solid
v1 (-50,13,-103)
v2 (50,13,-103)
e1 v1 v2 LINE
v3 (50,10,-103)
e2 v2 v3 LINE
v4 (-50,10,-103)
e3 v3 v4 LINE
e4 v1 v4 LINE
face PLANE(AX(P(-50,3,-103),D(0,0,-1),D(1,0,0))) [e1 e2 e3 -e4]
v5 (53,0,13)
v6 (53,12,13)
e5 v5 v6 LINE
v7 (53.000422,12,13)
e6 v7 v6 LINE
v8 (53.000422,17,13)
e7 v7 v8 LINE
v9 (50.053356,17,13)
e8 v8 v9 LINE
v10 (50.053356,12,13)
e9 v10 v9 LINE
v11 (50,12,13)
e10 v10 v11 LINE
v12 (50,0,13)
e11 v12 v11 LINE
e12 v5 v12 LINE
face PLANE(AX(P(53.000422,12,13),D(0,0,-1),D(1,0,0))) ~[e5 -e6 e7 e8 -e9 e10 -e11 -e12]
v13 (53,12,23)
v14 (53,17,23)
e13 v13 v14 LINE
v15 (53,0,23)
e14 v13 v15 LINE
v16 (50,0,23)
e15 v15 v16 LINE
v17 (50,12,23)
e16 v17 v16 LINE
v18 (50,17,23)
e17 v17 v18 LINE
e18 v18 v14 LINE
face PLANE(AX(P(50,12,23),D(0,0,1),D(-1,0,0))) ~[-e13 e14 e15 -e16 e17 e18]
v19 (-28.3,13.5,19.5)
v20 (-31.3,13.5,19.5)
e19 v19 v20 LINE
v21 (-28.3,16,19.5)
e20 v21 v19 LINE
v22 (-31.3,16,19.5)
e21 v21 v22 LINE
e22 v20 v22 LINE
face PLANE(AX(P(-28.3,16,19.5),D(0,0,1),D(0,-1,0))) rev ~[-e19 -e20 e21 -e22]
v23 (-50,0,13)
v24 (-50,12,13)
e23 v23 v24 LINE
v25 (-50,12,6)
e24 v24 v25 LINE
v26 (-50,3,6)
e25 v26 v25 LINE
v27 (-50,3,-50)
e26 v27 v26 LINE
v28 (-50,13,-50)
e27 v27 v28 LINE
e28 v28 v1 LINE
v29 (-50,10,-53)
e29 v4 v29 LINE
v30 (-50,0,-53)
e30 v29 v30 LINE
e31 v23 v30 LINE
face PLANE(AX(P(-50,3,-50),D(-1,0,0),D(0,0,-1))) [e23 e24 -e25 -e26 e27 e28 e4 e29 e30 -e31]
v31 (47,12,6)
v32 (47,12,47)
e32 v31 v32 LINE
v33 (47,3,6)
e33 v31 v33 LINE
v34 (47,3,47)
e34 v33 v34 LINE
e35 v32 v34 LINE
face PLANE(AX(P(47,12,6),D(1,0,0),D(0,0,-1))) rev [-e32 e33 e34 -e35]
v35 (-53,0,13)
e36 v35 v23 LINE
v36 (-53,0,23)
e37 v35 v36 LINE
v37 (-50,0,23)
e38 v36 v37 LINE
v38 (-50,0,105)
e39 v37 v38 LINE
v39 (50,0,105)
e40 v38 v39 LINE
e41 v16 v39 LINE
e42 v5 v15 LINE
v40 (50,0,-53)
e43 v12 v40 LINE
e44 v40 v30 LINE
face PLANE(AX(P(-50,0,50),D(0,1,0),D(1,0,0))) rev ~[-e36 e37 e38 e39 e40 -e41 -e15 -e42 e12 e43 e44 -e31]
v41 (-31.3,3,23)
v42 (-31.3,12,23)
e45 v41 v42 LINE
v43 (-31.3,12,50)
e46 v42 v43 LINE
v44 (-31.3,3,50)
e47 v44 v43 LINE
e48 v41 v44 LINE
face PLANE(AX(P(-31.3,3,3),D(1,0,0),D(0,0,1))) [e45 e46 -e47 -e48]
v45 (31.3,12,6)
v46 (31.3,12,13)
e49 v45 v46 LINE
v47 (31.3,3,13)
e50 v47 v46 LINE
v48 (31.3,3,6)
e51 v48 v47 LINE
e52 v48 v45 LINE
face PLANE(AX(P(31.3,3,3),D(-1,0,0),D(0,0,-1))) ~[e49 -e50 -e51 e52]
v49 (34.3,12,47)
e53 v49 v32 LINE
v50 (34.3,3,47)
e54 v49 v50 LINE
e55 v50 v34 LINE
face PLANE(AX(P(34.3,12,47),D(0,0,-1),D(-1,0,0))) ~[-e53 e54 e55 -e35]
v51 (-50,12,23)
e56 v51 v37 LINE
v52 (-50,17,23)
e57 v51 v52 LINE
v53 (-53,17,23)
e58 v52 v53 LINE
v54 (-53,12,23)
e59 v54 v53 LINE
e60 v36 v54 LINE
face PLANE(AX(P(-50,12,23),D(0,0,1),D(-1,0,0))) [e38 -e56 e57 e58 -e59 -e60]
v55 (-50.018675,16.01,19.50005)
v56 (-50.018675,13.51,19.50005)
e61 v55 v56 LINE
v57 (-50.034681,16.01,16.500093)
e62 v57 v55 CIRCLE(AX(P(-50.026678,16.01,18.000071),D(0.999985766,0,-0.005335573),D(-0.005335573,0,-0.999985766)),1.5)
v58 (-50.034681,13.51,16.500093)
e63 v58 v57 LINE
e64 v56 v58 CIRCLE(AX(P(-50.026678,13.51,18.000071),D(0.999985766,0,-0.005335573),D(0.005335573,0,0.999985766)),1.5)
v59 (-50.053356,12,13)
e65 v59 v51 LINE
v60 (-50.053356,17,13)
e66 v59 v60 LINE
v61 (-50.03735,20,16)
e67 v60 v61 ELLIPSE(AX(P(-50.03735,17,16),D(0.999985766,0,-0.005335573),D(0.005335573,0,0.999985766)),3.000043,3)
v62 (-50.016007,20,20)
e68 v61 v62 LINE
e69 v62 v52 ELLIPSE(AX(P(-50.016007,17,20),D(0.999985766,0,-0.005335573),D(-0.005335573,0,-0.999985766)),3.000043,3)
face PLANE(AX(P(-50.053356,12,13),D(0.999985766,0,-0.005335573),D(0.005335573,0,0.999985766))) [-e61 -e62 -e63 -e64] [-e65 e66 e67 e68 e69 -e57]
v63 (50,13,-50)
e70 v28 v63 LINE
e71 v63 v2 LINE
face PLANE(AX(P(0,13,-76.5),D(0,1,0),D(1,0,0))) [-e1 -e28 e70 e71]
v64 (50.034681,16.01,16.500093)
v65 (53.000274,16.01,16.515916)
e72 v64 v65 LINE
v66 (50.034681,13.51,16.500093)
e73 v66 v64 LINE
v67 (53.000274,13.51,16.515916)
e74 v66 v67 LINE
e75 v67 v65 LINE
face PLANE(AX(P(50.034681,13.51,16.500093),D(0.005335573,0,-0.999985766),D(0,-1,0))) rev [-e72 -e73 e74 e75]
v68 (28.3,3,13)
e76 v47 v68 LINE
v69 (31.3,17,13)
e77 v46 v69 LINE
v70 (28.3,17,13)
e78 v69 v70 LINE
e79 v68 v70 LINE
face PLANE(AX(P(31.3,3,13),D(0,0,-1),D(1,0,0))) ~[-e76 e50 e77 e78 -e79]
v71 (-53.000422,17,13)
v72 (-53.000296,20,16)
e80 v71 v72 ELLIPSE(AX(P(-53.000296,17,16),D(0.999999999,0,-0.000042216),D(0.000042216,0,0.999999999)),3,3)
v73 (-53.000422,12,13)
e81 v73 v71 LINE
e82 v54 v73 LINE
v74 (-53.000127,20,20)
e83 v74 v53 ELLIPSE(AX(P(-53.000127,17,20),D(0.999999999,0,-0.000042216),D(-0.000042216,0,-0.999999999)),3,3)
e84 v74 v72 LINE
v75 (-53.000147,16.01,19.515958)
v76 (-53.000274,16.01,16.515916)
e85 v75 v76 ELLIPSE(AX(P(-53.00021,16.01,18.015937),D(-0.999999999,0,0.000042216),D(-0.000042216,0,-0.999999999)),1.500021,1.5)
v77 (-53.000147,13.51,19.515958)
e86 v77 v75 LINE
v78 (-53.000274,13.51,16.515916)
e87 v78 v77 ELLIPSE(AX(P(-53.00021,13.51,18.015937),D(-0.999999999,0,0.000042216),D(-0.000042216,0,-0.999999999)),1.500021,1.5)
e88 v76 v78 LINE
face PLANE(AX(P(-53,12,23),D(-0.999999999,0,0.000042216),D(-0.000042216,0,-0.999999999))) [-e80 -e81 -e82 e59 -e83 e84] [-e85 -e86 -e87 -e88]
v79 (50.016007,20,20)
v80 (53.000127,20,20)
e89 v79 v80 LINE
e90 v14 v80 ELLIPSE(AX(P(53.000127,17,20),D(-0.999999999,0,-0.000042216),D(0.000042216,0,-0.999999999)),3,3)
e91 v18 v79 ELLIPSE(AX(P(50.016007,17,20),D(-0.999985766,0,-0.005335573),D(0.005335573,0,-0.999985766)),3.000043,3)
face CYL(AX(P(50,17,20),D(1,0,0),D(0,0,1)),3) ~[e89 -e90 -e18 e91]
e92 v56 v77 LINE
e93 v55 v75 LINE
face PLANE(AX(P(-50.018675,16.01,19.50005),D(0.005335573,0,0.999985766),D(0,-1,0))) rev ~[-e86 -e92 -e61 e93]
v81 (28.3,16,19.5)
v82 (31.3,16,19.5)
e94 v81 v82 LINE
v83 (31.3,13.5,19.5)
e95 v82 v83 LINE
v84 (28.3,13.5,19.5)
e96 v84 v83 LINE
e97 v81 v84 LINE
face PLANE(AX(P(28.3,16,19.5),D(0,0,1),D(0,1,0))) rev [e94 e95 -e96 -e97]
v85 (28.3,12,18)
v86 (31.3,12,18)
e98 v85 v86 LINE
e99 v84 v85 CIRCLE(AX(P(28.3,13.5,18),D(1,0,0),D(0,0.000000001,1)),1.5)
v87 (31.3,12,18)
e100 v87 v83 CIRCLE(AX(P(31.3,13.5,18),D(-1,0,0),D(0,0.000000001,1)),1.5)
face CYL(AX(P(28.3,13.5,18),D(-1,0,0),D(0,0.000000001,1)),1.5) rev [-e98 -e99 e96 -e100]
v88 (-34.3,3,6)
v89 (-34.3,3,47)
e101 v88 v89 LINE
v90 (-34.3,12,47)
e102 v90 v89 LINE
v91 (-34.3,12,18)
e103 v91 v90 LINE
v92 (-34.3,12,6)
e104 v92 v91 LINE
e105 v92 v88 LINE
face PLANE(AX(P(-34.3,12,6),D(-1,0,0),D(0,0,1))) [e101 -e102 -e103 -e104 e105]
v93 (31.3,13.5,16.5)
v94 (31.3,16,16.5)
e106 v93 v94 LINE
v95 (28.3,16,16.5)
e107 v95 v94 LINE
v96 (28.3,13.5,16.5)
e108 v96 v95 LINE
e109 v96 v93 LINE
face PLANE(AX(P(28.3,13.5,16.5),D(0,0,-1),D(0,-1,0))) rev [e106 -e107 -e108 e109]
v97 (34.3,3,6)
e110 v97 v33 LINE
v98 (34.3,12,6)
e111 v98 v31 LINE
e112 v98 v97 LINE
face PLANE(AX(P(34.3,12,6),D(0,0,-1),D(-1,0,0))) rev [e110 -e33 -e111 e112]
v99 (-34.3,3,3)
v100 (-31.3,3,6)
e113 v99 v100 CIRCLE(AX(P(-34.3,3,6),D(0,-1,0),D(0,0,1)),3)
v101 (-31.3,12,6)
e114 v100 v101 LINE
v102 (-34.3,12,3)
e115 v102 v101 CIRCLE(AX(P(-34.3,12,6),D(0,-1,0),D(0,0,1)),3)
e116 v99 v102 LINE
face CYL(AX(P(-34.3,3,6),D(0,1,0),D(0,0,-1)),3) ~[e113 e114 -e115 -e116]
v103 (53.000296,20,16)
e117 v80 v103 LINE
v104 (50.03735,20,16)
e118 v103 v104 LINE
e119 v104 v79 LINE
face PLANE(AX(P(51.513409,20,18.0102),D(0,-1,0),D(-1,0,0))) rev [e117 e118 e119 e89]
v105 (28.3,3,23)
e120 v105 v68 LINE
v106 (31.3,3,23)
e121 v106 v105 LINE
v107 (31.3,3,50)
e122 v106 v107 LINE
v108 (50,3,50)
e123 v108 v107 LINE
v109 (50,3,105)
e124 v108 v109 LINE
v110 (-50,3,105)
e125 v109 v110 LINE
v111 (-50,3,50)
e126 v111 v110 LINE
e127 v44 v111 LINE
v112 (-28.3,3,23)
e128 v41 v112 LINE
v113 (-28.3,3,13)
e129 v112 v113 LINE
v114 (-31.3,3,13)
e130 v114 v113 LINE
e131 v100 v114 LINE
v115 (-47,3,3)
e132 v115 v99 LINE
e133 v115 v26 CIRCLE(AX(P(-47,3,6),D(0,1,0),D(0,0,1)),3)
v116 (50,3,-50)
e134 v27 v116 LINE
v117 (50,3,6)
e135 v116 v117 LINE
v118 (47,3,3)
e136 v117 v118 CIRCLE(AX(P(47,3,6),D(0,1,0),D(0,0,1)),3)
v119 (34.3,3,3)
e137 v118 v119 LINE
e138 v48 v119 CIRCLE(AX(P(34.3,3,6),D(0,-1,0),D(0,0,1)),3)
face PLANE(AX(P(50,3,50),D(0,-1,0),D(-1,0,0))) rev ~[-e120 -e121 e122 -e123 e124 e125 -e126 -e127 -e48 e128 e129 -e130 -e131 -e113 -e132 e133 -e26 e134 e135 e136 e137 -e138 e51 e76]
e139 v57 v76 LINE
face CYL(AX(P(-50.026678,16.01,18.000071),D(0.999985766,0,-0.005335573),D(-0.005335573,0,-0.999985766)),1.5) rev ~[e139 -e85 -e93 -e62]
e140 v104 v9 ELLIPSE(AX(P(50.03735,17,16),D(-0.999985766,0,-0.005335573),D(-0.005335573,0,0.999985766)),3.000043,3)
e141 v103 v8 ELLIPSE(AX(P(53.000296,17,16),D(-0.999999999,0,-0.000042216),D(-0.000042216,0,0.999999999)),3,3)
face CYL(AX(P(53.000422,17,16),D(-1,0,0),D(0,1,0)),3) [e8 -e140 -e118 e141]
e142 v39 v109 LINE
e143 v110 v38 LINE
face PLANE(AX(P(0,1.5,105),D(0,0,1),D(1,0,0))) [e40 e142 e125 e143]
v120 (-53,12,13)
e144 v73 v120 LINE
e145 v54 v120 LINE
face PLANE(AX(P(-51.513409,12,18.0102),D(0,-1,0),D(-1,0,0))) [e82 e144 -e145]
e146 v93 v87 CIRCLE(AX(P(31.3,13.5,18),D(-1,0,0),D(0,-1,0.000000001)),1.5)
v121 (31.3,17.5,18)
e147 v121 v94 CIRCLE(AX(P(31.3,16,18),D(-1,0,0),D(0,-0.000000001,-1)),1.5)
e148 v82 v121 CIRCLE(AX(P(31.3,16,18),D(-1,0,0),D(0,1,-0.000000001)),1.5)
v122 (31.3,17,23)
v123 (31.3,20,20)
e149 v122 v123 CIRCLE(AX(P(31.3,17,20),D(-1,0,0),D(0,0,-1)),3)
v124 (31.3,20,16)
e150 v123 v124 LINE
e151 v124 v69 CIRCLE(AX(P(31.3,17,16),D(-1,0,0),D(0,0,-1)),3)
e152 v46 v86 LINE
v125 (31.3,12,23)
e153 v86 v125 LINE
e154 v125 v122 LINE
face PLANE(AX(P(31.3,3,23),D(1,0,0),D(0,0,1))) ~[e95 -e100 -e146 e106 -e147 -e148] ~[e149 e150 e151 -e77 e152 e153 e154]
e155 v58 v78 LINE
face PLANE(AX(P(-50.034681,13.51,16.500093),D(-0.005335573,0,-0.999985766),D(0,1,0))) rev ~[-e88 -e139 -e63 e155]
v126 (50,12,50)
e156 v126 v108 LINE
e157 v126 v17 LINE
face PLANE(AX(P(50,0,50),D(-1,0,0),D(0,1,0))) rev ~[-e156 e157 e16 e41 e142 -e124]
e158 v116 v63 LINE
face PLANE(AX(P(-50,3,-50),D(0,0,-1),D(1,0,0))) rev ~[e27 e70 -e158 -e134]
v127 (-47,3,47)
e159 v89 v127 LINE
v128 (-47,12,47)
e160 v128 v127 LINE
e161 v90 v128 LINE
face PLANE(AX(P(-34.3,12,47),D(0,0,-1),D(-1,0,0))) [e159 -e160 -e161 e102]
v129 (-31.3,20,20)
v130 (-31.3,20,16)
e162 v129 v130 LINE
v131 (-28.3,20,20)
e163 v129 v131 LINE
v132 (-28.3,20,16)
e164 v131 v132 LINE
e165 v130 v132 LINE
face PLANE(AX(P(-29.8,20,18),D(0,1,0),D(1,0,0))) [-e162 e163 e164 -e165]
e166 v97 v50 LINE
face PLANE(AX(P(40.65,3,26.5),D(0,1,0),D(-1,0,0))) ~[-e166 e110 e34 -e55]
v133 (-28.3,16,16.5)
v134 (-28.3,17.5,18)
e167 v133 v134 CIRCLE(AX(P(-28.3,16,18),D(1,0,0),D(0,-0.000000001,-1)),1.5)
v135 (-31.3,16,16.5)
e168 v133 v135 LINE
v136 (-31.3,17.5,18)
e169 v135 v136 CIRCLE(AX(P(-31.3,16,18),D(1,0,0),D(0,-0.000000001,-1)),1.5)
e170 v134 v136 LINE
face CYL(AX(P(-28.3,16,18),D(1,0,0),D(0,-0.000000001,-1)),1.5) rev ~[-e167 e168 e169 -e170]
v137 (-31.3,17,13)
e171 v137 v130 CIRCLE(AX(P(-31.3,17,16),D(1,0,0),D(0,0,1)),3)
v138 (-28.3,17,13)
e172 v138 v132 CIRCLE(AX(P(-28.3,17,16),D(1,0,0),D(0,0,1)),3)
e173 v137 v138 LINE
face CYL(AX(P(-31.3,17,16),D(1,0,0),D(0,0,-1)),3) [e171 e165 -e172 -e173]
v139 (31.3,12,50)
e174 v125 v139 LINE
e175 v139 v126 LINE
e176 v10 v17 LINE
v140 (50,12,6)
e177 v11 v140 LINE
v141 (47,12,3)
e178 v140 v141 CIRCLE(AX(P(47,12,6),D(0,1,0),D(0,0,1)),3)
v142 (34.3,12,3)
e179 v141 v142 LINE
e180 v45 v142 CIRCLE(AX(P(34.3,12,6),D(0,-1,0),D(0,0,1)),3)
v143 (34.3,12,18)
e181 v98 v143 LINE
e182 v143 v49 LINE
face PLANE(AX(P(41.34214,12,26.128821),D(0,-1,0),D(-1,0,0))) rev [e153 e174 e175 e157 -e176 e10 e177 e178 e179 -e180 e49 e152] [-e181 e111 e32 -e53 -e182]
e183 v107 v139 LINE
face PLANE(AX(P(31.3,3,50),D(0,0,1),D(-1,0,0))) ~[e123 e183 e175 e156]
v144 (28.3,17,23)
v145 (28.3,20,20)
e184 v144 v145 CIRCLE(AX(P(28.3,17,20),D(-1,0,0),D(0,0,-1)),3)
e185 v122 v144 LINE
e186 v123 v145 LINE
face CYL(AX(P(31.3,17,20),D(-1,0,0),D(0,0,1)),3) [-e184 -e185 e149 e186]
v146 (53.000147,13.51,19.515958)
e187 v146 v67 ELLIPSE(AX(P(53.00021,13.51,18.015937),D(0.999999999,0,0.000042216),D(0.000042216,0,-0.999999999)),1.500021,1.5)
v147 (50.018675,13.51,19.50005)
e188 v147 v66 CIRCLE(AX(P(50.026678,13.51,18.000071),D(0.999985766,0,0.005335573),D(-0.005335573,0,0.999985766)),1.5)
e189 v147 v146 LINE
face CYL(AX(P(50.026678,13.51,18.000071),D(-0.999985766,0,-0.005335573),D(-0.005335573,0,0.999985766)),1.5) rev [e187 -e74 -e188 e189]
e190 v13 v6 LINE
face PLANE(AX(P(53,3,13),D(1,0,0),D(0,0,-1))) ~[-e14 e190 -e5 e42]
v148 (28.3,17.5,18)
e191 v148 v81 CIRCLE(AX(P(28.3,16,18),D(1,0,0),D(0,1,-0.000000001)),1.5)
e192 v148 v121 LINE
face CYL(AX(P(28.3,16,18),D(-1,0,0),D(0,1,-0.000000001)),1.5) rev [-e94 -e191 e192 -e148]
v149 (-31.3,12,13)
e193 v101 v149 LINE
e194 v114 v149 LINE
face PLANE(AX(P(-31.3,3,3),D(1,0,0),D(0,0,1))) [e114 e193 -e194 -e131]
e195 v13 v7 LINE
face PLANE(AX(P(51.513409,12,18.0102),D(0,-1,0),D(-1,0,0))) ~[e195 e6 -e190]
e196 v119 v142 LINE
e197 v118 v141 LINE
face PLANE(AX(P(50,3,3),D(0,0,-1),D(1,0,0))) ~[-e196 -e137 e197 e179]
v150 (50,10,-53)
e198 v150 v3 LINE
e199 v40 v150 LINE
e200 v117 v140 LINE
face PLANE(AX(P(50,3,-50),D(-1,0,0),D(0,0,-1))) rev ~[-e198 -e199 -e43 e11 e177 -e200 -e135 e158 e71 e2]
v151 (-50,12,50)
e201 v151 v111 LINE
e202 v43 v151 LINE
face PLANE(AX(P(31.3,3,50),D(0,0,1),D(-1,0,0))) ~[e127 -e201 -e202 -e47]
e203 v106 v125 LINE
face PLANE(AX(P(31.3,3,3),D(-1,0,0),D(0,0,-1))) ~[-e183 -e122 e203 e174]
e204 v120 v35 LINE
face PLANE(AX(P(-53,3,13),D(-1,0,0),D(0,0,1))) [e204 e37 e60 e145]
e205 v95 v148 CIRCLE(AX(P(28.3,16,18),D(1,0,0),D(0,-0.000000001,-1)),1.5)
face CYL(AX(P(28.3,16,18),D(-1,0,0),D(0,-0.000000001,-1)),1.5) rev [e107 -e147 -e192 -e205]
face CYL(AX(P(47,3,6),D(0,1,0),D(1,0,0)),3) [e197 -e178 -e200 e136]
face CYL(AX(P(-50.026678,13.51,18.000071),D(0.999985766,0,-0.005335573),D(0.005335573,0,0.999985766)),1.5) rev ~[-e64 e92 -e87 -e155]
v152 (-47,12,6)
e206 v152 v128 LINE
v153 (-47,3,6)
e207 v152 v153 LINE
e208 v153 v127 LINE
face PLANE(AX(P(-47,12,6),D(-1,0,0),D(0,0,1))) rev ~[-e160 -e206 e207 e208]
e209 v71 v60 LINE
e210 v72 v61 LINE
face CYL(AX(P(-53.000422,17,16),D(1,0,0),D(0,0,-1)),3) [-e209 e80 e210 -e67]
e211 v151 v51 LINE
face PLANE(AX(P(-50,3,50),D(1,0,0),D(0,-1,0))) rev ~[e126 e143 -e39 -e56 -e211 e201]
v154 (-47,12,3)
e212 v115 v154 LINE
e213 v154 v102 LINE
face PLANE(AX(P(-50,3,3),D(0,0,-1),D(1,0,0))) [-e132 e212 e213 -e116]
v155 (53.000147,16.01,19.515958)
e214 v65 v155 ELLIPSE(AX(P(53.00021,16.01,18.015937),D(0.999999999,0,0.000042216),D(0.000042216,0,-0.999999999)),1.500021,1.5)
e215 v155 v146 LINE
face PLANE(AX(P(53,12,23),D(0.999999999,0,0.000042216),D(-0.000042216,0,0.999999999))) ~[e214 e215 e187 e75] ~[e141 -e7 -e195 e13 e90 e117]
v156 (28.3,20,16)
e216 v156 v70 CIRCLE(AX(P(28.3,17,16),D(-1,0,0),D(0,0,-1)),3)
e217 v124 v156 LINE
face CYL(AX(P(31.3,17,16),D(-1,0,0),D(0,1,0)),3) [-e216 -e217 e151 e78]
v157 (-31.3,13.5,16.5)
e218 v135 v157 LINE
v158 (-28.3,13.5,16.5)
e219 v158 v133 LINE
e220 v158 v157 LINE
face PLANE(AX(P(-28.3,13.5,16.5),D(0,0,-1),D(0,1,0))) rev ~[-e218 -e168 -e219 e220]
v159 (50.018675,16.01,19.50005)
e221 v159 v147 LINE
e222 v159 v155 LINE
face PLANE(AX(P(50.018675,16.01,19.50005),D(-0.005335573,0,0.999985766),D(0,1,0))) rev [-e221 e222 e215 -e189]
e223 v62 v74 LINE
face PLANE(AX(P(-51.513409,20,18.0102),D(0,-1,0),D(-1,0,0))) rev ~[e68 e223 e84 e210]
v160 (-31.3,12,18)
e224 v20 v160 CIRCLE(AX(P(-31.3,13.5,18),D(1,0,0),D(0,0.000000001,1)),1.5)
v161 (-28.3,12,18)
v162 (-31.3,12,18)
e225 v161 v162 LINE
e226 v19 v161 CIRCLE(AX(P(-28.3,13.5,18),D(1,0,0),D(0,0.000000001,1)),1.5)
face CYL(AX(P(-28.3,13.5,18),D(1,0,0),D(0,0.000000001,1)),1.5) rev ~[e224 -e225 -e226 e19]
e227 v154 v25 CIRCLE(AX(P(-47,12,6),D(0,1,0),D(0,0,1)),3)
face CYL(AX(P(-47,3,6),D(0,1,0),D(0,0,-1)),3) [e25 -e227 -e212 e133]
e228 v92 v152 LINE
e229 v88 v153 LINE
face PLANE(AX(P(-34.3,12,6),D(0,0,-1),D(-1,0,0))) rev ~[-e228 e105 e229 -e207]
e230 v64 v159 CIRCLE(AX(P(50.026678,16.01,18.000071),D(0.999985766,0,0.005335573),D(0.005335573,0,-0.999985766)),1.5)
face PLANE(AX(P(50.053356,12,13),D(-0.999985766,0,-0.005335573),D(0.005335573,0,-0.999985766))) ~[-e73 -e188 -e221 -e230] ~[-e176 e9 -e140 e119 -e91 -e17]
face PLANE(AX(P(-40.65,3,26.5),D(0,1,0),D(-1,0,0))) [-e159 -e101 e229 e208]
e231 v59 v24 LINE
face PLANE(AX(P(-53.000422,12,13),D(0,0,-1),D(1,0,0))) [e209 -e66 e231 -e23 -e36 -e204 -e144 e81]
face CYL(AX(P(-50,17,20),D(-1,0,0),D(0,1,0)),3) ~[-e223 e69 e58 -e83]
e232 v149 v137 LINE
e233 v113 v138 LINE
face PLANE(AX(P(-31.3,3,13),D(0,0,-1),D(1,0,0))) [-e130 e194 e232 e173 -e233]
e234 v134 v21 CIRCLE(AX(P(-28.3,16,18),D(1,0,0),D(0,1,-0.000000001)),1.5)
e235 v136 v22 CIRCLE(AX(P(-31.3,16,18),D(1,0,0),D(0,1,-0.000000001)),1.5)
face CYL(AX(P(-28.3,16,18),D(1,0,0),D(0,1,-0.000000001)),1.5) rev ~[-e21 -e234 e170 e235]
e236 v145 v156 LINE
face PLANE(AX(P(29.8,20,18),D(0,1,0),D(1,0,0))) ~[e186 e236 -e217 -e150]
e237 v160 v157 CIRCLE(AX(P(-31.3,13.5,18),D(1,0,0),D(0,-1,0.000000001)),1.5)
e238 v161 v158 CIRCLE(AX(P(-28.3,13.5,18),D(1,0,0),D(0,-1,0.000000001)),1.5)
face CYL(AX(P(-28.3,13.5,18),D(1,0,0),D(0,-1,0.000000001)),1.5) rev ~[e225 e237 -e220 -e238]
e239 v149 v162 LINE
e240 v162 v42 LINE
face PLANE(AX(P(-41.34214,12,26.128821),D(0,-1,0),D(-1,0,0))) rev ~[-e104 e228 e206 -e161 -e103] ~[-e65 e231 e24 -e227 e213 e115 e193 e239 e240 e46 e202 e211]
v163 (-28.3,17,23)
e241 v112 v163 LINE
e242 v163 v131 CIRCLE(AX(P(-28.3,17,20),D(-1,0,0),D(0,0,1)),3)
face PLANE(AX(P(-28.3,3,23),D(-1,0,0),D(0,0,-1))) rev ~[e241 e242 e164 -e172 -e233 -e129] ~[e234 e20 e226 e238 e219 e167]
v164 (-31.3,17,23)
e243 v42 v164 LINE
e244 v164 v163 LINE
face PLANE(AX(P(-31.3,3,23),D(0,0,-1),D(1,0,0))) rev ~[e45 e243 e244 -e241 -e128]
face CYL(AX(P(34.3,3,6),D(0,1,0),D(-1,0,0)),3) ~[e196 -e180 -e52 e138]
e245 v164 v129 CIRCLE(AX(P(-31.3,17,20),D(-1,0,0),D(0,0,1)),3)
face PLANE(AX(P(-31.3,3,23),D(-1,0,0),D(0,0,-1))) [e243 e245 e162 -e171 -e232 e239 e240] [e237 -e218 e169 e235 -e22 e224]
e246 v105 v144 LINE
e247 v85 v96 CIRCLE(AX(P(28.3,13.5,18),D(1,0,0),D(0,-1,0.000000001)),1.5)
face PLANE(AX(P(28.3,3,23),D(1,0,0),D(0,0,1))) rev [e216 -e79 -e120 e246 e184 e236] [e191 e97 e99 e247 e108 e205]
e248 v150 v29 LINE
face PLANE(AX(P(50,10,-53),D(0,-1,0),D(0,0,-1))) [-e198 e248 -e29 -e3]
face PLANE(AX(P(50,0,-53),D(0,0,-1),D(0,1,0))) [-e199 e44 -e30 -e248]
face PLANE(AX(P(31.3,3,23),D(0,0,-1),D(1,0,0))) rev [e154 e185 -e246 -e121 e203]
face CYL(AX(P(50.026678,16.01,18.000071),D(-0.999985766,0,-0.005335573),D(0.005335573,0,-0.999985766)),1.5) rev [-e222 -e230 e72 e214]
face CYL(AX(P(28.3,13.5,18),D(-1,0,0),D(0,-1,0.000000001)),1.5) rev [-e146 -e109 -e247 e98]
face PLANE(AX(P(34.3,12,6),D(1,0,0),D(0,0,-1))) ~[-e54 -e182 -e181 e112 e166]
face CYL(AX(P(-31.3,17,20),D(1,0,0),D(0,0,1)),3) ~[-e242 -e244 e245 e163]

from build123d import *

# Parameters (mm, degrees)
ESBO_O1_W                = 100
ESBO_O1_H                = 100
EXTRUS_O1_DEPTH          = 3
EXTRUS_O2_DEPTH          = 9
ESBO_O3_W                = 12.7
ESBO_O3_H                = 41
EXTRUS_O3_DEPTH          = 9
FILETE2_R                = 3
ESBO_O6_W                = 3
ESBO_O6_H                = 10
EXTRUS_O4_DEPTH          = 3
ESBO_O7_W                = 3
ESBO_O7_H                = 10
EXTRUS_O5_DEPTH          = 17
EXTRUS_O6_DEPTH          = 8
FILETE3_R                = 3
FILETE2_OF_ESPELHAR4_R   = 3
FILETE3_OF_ESPELHAR4_R   = 3
EXTRUS_O17_DEPTH         = 10
EXTRUS_O30_DEPTH         = 10
ESBO_O22_W               = 100
ESBO_O22_H               = 3
EXTRUS_O33_DEPTH         = 53
ESBO_O23_W               = 100
ESBO_O23_H               = 53
EXTRUS_O35_DEPTH         = 10
ESBO_O24_W               = 50
ESBO_O24_H               = 10
EXTRUS_O36_DEPTH         = 148.030904796
RESSALTO_EXTRUS_O1_DEPTH = 55


with BuildPart() as part:
    # Esboço1 → Extrusão1 (new body)
    with BuildSketch(Plane(origin=(0, 0, 0), x_dir=(1, 0, 0), z_dir=(0, 1, 0))):
        Rectangle(ESBO_O1_W, ESBO_O1_H)
    extrus_o1 = extrude(amount=EXTRUS_O1_DEPTH)

    # Esboço2 → Extrusão2 (add)
    with BuildSketch(Plane(origin=(0, 3, 0), x_dir=(1, 0, 0), z_dir=(0, 1, 0))):
        Polygon((-50, -3), (-31.3, -3), (-31.3, -50), (-50, -50), (-50, -23), (-53, -23), (-53, -13), (-50, -13), align=None)
    extrus_o2 = extrude(amount=EXTRUS_O2_DEPTH)

    # Esboço3 → Extrusão3 (cut)
    with BuildSketch(Plane(origin=(0, 12, 0), x_dir=(-1, 0, 0), z_dir=(0, 1, 0))):
        with Locations((40.65, 26.5)):
            Rectangle(ESBO_O3_W, ESBO_O3_H)
    extrus_o3 = extrude(amount=-EXTRUS_O3_DEPTH, mode=Mode.SUBTRACT)

    # Filete2
    filete2_edges = [part.edges().sort_by_distance(p)[0] for p in [
        (-50, 7.5, 3),
        (-31.3, 7.5, 3),
    ]]
    fillet(filete2_edges, radius=FILETE2_R)

    # Esboço6 → Extrusão4 (add)
    with BuildSketch(Plane.XZ.offset(-3)):
        with Locations((-51.5, 18)):
            Rectangle(ESBO_O6_W, ESBO_O6_H)
    extrus_o4 = extrude(amount=EXTRUS_O4_DEPTH)

    # Esboço7 → Extrusão5 (add)
    with BuildSketch(Plane(origin=(0, 3, 0), x_dir=(1, 0, 0), z_dir=(0, 1, 0))):
        with Locations((-29.8, -18)):
            Rectangle(ESBO_O7_W, ESBO_O7_H)
    extrus_o5 = extrude(amount=EXTRUS_O5_DEPTH)

    # Esboço8 → Extrusão6 (add)
    with BuildSketch(Plane(origin=(0, 12, 0), x_dir=(1, 0, 0), z_dir=(0, 1, 0))):
        Polygon((-53.00042216, -13), (-50.053356487, -13), (-50, -23), (-53, -23), align=None)
    extrus_o6 = extrude(amount=EXTRUS_O6_DEPTH)

    # Filete3
    filete3_edges = [part.edges().sort_by_distance(p)[0] for p in [
        (-51.5, 20, 23),
        (-51.526889323, 20, 13),
        (-29.8, 20, 23),
        (-29.8, 20, 13),
    ]]
    fillet(filete3_edges, radius=FILETE3_R)

    # Espelhar4: Extrusão1, Extrusão2, Extrusão3, Extrusão4, Extrusão5, Extrusão6 across plane
    add(extrus_o1.mirror(Plane(origin=(0, 0, 0), x_dir=(0, 0, 1), z_dir=(1, 0, 0))))
    add(extrus_o2.mirror(Plane(origin=(0, 0, 0), x_dir=(0, 0, 1), z_dir=(1, 0, 0))))
    add(extrus_o3.mirror(Plane(origin=(0, 0, 0), x_dir=(0, 0, 1), z_dir=(1, 0, 0))), mode=Mode.SUBTRACT)
    add(extrus_o4.mirror(Plane(origin=(0, 0, 0), x_dir=(0, 0, 1), z_dir=(1, 0, 0))))
    add(extrus_o5.mirror(Plane(origin=(0, 0, 0), x_dir=(0, 0, 1), z_dir=(1, 0, 0))))
    add(extrus_o6.mirror(Plane(origin=(0, 0, 0), x_dir=(0, 0, 1), z_dir=(1, 0, 0))))

    # Filete2 of Espelhar4
    filete2_of_espelhar4_edges = [part.edges().sort_by_distance(p)[0] for p in [
        (50, 7.5, 3),
        (31.3, 7.5, 3),
    ]]
    fillet(filete2_of_espelhar4_edges, radius=FILETE2_OF_ESPELHAR4_R)

    # Filete3 of Espelhar4
    filete3_of_espelhar4_edges = [part.edges().sort_by_distance(p)[0] for p in [
        (51.5, 20, 23),
        (51.526889323, 20, 13),
        (29.8, 20, 23),
        (29.8, 20, 13),
    ]]
    fillet(filete3_of_espelhar4_edges, radius=FILETE3_OF_ESPELHAR4_R)

    # Esboço9 → Extrusão17 (cut)
    with BuildSketch(Plane(origin=(-28.3, 0, 0), x_dir=(0, 0, -1), z_dir=(1, 0, 0))):
        with BuildLine():
            ThreePointArc((-18, 17.5), (-19.060660172, 17.060660172), (-19.5, 16))
            Line((-19.5, 16), (-19.5, 13.5))
            ThreePointArc((-19.5, 13.5), (-19.060660172, 12.439339828), (-18, 12))
            ThreePointArc((-18, 12), (-16.939339828, 12.439339828), (-16.5, 13.5))
            Line((-16.5, 13.5), (-16.5, 16))
            ThreePointArc((-16.5, 16), (-16.939339828, 17.060660172), (-18, 17.5))
        make_face()
    extrus_o17 = extrude(amount=-EXTRUS_O17_DEPTH, mode=Mode.SUBTRACT)

    # Esboço15 → Extrusão30 (cut)
    with BuildSketch(Plane(origin=(-50.121293009, 0, 0.267429611), x_dir=(-0.005335572730928429, 0, -0.9999857657305093), z_dir=(0.9999857657305093, 0, -0.005335572730928429))):
        with BuildLine():
            Line((-19.232893975, 16.01), (-19.232893975, 13.51))
            ThreePointArc((-19.232893975, 13.51), (-17.732893975, 12.01), (-16.232893975, 13.51))
            Line((-16.232893975, 13.51), (-16.232893975, 16.01))
            ThreePointArc((-16.232893975, 16.01), (-17.732893975, 17.51), (-19.232893975, 16.01))
        make_face()
    extrus_o30 = extrude(amount=-EXTRUS_O30_DEPTH, mode=Mode.SUBTRACT)

    # Espelhar14: Extrusão17, Extrusão30 across plane
    add(extrus_o17.mirror(Plane(origin=(0, 0, 0), x_dir=(0, 0, 1), z_dir=(1, 0, 0))), mode=Mode.SUBTRACT)
    add(extrus_o30.mirror(Plane(origin=(0, 0, 0), x_dir=(0, 0, 1), z_dir=(1, 0, 0))), mode=Mode.SUBTRACT)

    # Esboço22 → Extrusão33 (add)
    with BuildSketch(Plane(origin=(0, 0, -50), x_dir=(-1, 0, 0), z_dir=(0, 0, -1))):
        with Locations((0, 1.5)):
            Rectangle(ESBO_O22_W, ESBO_O22_H)
    extrude(amount=EXTRUS_O33_DEPTH)

    # Esboço23 → Extrusão35 (add)
    with BuildSketch(Plane(origin=(0, 3, 0), x_dir=(1, 0, 0), z_dir=(0, 1, 0))):
        with Locations((0, 76.5)):
            Rectangle(ESBO_O23_W, ESBO_O23_H)
    extrude(amount=EXTRUS_O35_DEPTH)

    # Esboço24 → Extrusão36 (cut, through all)
    with BuildSketch(Plane(origin=(50, 0, 0), x_dir=(0, 0, -1), z_dir=(1, 0, 0))):
        with Locations((78, 5)):
            Rectangle(ESBO_O24_W, ESBO_O24_H)
    extrude(amount=-EXTRUS_O36_DEPTH, mode=Mode.SUBTRACT)

    # Esboço26 → Ressalto-extrusão1 (add)
    with BuildSketch(Plane.XY.offset(50)):
        Polygon((31.3, 3), (-31.3, 3), (-50, 3), (-50, 0), (50, 0), (50, 3), align=None)
    extrude(amount=RESSALTO_EXTRUS_O1_DEPTH)


solid = part.part
